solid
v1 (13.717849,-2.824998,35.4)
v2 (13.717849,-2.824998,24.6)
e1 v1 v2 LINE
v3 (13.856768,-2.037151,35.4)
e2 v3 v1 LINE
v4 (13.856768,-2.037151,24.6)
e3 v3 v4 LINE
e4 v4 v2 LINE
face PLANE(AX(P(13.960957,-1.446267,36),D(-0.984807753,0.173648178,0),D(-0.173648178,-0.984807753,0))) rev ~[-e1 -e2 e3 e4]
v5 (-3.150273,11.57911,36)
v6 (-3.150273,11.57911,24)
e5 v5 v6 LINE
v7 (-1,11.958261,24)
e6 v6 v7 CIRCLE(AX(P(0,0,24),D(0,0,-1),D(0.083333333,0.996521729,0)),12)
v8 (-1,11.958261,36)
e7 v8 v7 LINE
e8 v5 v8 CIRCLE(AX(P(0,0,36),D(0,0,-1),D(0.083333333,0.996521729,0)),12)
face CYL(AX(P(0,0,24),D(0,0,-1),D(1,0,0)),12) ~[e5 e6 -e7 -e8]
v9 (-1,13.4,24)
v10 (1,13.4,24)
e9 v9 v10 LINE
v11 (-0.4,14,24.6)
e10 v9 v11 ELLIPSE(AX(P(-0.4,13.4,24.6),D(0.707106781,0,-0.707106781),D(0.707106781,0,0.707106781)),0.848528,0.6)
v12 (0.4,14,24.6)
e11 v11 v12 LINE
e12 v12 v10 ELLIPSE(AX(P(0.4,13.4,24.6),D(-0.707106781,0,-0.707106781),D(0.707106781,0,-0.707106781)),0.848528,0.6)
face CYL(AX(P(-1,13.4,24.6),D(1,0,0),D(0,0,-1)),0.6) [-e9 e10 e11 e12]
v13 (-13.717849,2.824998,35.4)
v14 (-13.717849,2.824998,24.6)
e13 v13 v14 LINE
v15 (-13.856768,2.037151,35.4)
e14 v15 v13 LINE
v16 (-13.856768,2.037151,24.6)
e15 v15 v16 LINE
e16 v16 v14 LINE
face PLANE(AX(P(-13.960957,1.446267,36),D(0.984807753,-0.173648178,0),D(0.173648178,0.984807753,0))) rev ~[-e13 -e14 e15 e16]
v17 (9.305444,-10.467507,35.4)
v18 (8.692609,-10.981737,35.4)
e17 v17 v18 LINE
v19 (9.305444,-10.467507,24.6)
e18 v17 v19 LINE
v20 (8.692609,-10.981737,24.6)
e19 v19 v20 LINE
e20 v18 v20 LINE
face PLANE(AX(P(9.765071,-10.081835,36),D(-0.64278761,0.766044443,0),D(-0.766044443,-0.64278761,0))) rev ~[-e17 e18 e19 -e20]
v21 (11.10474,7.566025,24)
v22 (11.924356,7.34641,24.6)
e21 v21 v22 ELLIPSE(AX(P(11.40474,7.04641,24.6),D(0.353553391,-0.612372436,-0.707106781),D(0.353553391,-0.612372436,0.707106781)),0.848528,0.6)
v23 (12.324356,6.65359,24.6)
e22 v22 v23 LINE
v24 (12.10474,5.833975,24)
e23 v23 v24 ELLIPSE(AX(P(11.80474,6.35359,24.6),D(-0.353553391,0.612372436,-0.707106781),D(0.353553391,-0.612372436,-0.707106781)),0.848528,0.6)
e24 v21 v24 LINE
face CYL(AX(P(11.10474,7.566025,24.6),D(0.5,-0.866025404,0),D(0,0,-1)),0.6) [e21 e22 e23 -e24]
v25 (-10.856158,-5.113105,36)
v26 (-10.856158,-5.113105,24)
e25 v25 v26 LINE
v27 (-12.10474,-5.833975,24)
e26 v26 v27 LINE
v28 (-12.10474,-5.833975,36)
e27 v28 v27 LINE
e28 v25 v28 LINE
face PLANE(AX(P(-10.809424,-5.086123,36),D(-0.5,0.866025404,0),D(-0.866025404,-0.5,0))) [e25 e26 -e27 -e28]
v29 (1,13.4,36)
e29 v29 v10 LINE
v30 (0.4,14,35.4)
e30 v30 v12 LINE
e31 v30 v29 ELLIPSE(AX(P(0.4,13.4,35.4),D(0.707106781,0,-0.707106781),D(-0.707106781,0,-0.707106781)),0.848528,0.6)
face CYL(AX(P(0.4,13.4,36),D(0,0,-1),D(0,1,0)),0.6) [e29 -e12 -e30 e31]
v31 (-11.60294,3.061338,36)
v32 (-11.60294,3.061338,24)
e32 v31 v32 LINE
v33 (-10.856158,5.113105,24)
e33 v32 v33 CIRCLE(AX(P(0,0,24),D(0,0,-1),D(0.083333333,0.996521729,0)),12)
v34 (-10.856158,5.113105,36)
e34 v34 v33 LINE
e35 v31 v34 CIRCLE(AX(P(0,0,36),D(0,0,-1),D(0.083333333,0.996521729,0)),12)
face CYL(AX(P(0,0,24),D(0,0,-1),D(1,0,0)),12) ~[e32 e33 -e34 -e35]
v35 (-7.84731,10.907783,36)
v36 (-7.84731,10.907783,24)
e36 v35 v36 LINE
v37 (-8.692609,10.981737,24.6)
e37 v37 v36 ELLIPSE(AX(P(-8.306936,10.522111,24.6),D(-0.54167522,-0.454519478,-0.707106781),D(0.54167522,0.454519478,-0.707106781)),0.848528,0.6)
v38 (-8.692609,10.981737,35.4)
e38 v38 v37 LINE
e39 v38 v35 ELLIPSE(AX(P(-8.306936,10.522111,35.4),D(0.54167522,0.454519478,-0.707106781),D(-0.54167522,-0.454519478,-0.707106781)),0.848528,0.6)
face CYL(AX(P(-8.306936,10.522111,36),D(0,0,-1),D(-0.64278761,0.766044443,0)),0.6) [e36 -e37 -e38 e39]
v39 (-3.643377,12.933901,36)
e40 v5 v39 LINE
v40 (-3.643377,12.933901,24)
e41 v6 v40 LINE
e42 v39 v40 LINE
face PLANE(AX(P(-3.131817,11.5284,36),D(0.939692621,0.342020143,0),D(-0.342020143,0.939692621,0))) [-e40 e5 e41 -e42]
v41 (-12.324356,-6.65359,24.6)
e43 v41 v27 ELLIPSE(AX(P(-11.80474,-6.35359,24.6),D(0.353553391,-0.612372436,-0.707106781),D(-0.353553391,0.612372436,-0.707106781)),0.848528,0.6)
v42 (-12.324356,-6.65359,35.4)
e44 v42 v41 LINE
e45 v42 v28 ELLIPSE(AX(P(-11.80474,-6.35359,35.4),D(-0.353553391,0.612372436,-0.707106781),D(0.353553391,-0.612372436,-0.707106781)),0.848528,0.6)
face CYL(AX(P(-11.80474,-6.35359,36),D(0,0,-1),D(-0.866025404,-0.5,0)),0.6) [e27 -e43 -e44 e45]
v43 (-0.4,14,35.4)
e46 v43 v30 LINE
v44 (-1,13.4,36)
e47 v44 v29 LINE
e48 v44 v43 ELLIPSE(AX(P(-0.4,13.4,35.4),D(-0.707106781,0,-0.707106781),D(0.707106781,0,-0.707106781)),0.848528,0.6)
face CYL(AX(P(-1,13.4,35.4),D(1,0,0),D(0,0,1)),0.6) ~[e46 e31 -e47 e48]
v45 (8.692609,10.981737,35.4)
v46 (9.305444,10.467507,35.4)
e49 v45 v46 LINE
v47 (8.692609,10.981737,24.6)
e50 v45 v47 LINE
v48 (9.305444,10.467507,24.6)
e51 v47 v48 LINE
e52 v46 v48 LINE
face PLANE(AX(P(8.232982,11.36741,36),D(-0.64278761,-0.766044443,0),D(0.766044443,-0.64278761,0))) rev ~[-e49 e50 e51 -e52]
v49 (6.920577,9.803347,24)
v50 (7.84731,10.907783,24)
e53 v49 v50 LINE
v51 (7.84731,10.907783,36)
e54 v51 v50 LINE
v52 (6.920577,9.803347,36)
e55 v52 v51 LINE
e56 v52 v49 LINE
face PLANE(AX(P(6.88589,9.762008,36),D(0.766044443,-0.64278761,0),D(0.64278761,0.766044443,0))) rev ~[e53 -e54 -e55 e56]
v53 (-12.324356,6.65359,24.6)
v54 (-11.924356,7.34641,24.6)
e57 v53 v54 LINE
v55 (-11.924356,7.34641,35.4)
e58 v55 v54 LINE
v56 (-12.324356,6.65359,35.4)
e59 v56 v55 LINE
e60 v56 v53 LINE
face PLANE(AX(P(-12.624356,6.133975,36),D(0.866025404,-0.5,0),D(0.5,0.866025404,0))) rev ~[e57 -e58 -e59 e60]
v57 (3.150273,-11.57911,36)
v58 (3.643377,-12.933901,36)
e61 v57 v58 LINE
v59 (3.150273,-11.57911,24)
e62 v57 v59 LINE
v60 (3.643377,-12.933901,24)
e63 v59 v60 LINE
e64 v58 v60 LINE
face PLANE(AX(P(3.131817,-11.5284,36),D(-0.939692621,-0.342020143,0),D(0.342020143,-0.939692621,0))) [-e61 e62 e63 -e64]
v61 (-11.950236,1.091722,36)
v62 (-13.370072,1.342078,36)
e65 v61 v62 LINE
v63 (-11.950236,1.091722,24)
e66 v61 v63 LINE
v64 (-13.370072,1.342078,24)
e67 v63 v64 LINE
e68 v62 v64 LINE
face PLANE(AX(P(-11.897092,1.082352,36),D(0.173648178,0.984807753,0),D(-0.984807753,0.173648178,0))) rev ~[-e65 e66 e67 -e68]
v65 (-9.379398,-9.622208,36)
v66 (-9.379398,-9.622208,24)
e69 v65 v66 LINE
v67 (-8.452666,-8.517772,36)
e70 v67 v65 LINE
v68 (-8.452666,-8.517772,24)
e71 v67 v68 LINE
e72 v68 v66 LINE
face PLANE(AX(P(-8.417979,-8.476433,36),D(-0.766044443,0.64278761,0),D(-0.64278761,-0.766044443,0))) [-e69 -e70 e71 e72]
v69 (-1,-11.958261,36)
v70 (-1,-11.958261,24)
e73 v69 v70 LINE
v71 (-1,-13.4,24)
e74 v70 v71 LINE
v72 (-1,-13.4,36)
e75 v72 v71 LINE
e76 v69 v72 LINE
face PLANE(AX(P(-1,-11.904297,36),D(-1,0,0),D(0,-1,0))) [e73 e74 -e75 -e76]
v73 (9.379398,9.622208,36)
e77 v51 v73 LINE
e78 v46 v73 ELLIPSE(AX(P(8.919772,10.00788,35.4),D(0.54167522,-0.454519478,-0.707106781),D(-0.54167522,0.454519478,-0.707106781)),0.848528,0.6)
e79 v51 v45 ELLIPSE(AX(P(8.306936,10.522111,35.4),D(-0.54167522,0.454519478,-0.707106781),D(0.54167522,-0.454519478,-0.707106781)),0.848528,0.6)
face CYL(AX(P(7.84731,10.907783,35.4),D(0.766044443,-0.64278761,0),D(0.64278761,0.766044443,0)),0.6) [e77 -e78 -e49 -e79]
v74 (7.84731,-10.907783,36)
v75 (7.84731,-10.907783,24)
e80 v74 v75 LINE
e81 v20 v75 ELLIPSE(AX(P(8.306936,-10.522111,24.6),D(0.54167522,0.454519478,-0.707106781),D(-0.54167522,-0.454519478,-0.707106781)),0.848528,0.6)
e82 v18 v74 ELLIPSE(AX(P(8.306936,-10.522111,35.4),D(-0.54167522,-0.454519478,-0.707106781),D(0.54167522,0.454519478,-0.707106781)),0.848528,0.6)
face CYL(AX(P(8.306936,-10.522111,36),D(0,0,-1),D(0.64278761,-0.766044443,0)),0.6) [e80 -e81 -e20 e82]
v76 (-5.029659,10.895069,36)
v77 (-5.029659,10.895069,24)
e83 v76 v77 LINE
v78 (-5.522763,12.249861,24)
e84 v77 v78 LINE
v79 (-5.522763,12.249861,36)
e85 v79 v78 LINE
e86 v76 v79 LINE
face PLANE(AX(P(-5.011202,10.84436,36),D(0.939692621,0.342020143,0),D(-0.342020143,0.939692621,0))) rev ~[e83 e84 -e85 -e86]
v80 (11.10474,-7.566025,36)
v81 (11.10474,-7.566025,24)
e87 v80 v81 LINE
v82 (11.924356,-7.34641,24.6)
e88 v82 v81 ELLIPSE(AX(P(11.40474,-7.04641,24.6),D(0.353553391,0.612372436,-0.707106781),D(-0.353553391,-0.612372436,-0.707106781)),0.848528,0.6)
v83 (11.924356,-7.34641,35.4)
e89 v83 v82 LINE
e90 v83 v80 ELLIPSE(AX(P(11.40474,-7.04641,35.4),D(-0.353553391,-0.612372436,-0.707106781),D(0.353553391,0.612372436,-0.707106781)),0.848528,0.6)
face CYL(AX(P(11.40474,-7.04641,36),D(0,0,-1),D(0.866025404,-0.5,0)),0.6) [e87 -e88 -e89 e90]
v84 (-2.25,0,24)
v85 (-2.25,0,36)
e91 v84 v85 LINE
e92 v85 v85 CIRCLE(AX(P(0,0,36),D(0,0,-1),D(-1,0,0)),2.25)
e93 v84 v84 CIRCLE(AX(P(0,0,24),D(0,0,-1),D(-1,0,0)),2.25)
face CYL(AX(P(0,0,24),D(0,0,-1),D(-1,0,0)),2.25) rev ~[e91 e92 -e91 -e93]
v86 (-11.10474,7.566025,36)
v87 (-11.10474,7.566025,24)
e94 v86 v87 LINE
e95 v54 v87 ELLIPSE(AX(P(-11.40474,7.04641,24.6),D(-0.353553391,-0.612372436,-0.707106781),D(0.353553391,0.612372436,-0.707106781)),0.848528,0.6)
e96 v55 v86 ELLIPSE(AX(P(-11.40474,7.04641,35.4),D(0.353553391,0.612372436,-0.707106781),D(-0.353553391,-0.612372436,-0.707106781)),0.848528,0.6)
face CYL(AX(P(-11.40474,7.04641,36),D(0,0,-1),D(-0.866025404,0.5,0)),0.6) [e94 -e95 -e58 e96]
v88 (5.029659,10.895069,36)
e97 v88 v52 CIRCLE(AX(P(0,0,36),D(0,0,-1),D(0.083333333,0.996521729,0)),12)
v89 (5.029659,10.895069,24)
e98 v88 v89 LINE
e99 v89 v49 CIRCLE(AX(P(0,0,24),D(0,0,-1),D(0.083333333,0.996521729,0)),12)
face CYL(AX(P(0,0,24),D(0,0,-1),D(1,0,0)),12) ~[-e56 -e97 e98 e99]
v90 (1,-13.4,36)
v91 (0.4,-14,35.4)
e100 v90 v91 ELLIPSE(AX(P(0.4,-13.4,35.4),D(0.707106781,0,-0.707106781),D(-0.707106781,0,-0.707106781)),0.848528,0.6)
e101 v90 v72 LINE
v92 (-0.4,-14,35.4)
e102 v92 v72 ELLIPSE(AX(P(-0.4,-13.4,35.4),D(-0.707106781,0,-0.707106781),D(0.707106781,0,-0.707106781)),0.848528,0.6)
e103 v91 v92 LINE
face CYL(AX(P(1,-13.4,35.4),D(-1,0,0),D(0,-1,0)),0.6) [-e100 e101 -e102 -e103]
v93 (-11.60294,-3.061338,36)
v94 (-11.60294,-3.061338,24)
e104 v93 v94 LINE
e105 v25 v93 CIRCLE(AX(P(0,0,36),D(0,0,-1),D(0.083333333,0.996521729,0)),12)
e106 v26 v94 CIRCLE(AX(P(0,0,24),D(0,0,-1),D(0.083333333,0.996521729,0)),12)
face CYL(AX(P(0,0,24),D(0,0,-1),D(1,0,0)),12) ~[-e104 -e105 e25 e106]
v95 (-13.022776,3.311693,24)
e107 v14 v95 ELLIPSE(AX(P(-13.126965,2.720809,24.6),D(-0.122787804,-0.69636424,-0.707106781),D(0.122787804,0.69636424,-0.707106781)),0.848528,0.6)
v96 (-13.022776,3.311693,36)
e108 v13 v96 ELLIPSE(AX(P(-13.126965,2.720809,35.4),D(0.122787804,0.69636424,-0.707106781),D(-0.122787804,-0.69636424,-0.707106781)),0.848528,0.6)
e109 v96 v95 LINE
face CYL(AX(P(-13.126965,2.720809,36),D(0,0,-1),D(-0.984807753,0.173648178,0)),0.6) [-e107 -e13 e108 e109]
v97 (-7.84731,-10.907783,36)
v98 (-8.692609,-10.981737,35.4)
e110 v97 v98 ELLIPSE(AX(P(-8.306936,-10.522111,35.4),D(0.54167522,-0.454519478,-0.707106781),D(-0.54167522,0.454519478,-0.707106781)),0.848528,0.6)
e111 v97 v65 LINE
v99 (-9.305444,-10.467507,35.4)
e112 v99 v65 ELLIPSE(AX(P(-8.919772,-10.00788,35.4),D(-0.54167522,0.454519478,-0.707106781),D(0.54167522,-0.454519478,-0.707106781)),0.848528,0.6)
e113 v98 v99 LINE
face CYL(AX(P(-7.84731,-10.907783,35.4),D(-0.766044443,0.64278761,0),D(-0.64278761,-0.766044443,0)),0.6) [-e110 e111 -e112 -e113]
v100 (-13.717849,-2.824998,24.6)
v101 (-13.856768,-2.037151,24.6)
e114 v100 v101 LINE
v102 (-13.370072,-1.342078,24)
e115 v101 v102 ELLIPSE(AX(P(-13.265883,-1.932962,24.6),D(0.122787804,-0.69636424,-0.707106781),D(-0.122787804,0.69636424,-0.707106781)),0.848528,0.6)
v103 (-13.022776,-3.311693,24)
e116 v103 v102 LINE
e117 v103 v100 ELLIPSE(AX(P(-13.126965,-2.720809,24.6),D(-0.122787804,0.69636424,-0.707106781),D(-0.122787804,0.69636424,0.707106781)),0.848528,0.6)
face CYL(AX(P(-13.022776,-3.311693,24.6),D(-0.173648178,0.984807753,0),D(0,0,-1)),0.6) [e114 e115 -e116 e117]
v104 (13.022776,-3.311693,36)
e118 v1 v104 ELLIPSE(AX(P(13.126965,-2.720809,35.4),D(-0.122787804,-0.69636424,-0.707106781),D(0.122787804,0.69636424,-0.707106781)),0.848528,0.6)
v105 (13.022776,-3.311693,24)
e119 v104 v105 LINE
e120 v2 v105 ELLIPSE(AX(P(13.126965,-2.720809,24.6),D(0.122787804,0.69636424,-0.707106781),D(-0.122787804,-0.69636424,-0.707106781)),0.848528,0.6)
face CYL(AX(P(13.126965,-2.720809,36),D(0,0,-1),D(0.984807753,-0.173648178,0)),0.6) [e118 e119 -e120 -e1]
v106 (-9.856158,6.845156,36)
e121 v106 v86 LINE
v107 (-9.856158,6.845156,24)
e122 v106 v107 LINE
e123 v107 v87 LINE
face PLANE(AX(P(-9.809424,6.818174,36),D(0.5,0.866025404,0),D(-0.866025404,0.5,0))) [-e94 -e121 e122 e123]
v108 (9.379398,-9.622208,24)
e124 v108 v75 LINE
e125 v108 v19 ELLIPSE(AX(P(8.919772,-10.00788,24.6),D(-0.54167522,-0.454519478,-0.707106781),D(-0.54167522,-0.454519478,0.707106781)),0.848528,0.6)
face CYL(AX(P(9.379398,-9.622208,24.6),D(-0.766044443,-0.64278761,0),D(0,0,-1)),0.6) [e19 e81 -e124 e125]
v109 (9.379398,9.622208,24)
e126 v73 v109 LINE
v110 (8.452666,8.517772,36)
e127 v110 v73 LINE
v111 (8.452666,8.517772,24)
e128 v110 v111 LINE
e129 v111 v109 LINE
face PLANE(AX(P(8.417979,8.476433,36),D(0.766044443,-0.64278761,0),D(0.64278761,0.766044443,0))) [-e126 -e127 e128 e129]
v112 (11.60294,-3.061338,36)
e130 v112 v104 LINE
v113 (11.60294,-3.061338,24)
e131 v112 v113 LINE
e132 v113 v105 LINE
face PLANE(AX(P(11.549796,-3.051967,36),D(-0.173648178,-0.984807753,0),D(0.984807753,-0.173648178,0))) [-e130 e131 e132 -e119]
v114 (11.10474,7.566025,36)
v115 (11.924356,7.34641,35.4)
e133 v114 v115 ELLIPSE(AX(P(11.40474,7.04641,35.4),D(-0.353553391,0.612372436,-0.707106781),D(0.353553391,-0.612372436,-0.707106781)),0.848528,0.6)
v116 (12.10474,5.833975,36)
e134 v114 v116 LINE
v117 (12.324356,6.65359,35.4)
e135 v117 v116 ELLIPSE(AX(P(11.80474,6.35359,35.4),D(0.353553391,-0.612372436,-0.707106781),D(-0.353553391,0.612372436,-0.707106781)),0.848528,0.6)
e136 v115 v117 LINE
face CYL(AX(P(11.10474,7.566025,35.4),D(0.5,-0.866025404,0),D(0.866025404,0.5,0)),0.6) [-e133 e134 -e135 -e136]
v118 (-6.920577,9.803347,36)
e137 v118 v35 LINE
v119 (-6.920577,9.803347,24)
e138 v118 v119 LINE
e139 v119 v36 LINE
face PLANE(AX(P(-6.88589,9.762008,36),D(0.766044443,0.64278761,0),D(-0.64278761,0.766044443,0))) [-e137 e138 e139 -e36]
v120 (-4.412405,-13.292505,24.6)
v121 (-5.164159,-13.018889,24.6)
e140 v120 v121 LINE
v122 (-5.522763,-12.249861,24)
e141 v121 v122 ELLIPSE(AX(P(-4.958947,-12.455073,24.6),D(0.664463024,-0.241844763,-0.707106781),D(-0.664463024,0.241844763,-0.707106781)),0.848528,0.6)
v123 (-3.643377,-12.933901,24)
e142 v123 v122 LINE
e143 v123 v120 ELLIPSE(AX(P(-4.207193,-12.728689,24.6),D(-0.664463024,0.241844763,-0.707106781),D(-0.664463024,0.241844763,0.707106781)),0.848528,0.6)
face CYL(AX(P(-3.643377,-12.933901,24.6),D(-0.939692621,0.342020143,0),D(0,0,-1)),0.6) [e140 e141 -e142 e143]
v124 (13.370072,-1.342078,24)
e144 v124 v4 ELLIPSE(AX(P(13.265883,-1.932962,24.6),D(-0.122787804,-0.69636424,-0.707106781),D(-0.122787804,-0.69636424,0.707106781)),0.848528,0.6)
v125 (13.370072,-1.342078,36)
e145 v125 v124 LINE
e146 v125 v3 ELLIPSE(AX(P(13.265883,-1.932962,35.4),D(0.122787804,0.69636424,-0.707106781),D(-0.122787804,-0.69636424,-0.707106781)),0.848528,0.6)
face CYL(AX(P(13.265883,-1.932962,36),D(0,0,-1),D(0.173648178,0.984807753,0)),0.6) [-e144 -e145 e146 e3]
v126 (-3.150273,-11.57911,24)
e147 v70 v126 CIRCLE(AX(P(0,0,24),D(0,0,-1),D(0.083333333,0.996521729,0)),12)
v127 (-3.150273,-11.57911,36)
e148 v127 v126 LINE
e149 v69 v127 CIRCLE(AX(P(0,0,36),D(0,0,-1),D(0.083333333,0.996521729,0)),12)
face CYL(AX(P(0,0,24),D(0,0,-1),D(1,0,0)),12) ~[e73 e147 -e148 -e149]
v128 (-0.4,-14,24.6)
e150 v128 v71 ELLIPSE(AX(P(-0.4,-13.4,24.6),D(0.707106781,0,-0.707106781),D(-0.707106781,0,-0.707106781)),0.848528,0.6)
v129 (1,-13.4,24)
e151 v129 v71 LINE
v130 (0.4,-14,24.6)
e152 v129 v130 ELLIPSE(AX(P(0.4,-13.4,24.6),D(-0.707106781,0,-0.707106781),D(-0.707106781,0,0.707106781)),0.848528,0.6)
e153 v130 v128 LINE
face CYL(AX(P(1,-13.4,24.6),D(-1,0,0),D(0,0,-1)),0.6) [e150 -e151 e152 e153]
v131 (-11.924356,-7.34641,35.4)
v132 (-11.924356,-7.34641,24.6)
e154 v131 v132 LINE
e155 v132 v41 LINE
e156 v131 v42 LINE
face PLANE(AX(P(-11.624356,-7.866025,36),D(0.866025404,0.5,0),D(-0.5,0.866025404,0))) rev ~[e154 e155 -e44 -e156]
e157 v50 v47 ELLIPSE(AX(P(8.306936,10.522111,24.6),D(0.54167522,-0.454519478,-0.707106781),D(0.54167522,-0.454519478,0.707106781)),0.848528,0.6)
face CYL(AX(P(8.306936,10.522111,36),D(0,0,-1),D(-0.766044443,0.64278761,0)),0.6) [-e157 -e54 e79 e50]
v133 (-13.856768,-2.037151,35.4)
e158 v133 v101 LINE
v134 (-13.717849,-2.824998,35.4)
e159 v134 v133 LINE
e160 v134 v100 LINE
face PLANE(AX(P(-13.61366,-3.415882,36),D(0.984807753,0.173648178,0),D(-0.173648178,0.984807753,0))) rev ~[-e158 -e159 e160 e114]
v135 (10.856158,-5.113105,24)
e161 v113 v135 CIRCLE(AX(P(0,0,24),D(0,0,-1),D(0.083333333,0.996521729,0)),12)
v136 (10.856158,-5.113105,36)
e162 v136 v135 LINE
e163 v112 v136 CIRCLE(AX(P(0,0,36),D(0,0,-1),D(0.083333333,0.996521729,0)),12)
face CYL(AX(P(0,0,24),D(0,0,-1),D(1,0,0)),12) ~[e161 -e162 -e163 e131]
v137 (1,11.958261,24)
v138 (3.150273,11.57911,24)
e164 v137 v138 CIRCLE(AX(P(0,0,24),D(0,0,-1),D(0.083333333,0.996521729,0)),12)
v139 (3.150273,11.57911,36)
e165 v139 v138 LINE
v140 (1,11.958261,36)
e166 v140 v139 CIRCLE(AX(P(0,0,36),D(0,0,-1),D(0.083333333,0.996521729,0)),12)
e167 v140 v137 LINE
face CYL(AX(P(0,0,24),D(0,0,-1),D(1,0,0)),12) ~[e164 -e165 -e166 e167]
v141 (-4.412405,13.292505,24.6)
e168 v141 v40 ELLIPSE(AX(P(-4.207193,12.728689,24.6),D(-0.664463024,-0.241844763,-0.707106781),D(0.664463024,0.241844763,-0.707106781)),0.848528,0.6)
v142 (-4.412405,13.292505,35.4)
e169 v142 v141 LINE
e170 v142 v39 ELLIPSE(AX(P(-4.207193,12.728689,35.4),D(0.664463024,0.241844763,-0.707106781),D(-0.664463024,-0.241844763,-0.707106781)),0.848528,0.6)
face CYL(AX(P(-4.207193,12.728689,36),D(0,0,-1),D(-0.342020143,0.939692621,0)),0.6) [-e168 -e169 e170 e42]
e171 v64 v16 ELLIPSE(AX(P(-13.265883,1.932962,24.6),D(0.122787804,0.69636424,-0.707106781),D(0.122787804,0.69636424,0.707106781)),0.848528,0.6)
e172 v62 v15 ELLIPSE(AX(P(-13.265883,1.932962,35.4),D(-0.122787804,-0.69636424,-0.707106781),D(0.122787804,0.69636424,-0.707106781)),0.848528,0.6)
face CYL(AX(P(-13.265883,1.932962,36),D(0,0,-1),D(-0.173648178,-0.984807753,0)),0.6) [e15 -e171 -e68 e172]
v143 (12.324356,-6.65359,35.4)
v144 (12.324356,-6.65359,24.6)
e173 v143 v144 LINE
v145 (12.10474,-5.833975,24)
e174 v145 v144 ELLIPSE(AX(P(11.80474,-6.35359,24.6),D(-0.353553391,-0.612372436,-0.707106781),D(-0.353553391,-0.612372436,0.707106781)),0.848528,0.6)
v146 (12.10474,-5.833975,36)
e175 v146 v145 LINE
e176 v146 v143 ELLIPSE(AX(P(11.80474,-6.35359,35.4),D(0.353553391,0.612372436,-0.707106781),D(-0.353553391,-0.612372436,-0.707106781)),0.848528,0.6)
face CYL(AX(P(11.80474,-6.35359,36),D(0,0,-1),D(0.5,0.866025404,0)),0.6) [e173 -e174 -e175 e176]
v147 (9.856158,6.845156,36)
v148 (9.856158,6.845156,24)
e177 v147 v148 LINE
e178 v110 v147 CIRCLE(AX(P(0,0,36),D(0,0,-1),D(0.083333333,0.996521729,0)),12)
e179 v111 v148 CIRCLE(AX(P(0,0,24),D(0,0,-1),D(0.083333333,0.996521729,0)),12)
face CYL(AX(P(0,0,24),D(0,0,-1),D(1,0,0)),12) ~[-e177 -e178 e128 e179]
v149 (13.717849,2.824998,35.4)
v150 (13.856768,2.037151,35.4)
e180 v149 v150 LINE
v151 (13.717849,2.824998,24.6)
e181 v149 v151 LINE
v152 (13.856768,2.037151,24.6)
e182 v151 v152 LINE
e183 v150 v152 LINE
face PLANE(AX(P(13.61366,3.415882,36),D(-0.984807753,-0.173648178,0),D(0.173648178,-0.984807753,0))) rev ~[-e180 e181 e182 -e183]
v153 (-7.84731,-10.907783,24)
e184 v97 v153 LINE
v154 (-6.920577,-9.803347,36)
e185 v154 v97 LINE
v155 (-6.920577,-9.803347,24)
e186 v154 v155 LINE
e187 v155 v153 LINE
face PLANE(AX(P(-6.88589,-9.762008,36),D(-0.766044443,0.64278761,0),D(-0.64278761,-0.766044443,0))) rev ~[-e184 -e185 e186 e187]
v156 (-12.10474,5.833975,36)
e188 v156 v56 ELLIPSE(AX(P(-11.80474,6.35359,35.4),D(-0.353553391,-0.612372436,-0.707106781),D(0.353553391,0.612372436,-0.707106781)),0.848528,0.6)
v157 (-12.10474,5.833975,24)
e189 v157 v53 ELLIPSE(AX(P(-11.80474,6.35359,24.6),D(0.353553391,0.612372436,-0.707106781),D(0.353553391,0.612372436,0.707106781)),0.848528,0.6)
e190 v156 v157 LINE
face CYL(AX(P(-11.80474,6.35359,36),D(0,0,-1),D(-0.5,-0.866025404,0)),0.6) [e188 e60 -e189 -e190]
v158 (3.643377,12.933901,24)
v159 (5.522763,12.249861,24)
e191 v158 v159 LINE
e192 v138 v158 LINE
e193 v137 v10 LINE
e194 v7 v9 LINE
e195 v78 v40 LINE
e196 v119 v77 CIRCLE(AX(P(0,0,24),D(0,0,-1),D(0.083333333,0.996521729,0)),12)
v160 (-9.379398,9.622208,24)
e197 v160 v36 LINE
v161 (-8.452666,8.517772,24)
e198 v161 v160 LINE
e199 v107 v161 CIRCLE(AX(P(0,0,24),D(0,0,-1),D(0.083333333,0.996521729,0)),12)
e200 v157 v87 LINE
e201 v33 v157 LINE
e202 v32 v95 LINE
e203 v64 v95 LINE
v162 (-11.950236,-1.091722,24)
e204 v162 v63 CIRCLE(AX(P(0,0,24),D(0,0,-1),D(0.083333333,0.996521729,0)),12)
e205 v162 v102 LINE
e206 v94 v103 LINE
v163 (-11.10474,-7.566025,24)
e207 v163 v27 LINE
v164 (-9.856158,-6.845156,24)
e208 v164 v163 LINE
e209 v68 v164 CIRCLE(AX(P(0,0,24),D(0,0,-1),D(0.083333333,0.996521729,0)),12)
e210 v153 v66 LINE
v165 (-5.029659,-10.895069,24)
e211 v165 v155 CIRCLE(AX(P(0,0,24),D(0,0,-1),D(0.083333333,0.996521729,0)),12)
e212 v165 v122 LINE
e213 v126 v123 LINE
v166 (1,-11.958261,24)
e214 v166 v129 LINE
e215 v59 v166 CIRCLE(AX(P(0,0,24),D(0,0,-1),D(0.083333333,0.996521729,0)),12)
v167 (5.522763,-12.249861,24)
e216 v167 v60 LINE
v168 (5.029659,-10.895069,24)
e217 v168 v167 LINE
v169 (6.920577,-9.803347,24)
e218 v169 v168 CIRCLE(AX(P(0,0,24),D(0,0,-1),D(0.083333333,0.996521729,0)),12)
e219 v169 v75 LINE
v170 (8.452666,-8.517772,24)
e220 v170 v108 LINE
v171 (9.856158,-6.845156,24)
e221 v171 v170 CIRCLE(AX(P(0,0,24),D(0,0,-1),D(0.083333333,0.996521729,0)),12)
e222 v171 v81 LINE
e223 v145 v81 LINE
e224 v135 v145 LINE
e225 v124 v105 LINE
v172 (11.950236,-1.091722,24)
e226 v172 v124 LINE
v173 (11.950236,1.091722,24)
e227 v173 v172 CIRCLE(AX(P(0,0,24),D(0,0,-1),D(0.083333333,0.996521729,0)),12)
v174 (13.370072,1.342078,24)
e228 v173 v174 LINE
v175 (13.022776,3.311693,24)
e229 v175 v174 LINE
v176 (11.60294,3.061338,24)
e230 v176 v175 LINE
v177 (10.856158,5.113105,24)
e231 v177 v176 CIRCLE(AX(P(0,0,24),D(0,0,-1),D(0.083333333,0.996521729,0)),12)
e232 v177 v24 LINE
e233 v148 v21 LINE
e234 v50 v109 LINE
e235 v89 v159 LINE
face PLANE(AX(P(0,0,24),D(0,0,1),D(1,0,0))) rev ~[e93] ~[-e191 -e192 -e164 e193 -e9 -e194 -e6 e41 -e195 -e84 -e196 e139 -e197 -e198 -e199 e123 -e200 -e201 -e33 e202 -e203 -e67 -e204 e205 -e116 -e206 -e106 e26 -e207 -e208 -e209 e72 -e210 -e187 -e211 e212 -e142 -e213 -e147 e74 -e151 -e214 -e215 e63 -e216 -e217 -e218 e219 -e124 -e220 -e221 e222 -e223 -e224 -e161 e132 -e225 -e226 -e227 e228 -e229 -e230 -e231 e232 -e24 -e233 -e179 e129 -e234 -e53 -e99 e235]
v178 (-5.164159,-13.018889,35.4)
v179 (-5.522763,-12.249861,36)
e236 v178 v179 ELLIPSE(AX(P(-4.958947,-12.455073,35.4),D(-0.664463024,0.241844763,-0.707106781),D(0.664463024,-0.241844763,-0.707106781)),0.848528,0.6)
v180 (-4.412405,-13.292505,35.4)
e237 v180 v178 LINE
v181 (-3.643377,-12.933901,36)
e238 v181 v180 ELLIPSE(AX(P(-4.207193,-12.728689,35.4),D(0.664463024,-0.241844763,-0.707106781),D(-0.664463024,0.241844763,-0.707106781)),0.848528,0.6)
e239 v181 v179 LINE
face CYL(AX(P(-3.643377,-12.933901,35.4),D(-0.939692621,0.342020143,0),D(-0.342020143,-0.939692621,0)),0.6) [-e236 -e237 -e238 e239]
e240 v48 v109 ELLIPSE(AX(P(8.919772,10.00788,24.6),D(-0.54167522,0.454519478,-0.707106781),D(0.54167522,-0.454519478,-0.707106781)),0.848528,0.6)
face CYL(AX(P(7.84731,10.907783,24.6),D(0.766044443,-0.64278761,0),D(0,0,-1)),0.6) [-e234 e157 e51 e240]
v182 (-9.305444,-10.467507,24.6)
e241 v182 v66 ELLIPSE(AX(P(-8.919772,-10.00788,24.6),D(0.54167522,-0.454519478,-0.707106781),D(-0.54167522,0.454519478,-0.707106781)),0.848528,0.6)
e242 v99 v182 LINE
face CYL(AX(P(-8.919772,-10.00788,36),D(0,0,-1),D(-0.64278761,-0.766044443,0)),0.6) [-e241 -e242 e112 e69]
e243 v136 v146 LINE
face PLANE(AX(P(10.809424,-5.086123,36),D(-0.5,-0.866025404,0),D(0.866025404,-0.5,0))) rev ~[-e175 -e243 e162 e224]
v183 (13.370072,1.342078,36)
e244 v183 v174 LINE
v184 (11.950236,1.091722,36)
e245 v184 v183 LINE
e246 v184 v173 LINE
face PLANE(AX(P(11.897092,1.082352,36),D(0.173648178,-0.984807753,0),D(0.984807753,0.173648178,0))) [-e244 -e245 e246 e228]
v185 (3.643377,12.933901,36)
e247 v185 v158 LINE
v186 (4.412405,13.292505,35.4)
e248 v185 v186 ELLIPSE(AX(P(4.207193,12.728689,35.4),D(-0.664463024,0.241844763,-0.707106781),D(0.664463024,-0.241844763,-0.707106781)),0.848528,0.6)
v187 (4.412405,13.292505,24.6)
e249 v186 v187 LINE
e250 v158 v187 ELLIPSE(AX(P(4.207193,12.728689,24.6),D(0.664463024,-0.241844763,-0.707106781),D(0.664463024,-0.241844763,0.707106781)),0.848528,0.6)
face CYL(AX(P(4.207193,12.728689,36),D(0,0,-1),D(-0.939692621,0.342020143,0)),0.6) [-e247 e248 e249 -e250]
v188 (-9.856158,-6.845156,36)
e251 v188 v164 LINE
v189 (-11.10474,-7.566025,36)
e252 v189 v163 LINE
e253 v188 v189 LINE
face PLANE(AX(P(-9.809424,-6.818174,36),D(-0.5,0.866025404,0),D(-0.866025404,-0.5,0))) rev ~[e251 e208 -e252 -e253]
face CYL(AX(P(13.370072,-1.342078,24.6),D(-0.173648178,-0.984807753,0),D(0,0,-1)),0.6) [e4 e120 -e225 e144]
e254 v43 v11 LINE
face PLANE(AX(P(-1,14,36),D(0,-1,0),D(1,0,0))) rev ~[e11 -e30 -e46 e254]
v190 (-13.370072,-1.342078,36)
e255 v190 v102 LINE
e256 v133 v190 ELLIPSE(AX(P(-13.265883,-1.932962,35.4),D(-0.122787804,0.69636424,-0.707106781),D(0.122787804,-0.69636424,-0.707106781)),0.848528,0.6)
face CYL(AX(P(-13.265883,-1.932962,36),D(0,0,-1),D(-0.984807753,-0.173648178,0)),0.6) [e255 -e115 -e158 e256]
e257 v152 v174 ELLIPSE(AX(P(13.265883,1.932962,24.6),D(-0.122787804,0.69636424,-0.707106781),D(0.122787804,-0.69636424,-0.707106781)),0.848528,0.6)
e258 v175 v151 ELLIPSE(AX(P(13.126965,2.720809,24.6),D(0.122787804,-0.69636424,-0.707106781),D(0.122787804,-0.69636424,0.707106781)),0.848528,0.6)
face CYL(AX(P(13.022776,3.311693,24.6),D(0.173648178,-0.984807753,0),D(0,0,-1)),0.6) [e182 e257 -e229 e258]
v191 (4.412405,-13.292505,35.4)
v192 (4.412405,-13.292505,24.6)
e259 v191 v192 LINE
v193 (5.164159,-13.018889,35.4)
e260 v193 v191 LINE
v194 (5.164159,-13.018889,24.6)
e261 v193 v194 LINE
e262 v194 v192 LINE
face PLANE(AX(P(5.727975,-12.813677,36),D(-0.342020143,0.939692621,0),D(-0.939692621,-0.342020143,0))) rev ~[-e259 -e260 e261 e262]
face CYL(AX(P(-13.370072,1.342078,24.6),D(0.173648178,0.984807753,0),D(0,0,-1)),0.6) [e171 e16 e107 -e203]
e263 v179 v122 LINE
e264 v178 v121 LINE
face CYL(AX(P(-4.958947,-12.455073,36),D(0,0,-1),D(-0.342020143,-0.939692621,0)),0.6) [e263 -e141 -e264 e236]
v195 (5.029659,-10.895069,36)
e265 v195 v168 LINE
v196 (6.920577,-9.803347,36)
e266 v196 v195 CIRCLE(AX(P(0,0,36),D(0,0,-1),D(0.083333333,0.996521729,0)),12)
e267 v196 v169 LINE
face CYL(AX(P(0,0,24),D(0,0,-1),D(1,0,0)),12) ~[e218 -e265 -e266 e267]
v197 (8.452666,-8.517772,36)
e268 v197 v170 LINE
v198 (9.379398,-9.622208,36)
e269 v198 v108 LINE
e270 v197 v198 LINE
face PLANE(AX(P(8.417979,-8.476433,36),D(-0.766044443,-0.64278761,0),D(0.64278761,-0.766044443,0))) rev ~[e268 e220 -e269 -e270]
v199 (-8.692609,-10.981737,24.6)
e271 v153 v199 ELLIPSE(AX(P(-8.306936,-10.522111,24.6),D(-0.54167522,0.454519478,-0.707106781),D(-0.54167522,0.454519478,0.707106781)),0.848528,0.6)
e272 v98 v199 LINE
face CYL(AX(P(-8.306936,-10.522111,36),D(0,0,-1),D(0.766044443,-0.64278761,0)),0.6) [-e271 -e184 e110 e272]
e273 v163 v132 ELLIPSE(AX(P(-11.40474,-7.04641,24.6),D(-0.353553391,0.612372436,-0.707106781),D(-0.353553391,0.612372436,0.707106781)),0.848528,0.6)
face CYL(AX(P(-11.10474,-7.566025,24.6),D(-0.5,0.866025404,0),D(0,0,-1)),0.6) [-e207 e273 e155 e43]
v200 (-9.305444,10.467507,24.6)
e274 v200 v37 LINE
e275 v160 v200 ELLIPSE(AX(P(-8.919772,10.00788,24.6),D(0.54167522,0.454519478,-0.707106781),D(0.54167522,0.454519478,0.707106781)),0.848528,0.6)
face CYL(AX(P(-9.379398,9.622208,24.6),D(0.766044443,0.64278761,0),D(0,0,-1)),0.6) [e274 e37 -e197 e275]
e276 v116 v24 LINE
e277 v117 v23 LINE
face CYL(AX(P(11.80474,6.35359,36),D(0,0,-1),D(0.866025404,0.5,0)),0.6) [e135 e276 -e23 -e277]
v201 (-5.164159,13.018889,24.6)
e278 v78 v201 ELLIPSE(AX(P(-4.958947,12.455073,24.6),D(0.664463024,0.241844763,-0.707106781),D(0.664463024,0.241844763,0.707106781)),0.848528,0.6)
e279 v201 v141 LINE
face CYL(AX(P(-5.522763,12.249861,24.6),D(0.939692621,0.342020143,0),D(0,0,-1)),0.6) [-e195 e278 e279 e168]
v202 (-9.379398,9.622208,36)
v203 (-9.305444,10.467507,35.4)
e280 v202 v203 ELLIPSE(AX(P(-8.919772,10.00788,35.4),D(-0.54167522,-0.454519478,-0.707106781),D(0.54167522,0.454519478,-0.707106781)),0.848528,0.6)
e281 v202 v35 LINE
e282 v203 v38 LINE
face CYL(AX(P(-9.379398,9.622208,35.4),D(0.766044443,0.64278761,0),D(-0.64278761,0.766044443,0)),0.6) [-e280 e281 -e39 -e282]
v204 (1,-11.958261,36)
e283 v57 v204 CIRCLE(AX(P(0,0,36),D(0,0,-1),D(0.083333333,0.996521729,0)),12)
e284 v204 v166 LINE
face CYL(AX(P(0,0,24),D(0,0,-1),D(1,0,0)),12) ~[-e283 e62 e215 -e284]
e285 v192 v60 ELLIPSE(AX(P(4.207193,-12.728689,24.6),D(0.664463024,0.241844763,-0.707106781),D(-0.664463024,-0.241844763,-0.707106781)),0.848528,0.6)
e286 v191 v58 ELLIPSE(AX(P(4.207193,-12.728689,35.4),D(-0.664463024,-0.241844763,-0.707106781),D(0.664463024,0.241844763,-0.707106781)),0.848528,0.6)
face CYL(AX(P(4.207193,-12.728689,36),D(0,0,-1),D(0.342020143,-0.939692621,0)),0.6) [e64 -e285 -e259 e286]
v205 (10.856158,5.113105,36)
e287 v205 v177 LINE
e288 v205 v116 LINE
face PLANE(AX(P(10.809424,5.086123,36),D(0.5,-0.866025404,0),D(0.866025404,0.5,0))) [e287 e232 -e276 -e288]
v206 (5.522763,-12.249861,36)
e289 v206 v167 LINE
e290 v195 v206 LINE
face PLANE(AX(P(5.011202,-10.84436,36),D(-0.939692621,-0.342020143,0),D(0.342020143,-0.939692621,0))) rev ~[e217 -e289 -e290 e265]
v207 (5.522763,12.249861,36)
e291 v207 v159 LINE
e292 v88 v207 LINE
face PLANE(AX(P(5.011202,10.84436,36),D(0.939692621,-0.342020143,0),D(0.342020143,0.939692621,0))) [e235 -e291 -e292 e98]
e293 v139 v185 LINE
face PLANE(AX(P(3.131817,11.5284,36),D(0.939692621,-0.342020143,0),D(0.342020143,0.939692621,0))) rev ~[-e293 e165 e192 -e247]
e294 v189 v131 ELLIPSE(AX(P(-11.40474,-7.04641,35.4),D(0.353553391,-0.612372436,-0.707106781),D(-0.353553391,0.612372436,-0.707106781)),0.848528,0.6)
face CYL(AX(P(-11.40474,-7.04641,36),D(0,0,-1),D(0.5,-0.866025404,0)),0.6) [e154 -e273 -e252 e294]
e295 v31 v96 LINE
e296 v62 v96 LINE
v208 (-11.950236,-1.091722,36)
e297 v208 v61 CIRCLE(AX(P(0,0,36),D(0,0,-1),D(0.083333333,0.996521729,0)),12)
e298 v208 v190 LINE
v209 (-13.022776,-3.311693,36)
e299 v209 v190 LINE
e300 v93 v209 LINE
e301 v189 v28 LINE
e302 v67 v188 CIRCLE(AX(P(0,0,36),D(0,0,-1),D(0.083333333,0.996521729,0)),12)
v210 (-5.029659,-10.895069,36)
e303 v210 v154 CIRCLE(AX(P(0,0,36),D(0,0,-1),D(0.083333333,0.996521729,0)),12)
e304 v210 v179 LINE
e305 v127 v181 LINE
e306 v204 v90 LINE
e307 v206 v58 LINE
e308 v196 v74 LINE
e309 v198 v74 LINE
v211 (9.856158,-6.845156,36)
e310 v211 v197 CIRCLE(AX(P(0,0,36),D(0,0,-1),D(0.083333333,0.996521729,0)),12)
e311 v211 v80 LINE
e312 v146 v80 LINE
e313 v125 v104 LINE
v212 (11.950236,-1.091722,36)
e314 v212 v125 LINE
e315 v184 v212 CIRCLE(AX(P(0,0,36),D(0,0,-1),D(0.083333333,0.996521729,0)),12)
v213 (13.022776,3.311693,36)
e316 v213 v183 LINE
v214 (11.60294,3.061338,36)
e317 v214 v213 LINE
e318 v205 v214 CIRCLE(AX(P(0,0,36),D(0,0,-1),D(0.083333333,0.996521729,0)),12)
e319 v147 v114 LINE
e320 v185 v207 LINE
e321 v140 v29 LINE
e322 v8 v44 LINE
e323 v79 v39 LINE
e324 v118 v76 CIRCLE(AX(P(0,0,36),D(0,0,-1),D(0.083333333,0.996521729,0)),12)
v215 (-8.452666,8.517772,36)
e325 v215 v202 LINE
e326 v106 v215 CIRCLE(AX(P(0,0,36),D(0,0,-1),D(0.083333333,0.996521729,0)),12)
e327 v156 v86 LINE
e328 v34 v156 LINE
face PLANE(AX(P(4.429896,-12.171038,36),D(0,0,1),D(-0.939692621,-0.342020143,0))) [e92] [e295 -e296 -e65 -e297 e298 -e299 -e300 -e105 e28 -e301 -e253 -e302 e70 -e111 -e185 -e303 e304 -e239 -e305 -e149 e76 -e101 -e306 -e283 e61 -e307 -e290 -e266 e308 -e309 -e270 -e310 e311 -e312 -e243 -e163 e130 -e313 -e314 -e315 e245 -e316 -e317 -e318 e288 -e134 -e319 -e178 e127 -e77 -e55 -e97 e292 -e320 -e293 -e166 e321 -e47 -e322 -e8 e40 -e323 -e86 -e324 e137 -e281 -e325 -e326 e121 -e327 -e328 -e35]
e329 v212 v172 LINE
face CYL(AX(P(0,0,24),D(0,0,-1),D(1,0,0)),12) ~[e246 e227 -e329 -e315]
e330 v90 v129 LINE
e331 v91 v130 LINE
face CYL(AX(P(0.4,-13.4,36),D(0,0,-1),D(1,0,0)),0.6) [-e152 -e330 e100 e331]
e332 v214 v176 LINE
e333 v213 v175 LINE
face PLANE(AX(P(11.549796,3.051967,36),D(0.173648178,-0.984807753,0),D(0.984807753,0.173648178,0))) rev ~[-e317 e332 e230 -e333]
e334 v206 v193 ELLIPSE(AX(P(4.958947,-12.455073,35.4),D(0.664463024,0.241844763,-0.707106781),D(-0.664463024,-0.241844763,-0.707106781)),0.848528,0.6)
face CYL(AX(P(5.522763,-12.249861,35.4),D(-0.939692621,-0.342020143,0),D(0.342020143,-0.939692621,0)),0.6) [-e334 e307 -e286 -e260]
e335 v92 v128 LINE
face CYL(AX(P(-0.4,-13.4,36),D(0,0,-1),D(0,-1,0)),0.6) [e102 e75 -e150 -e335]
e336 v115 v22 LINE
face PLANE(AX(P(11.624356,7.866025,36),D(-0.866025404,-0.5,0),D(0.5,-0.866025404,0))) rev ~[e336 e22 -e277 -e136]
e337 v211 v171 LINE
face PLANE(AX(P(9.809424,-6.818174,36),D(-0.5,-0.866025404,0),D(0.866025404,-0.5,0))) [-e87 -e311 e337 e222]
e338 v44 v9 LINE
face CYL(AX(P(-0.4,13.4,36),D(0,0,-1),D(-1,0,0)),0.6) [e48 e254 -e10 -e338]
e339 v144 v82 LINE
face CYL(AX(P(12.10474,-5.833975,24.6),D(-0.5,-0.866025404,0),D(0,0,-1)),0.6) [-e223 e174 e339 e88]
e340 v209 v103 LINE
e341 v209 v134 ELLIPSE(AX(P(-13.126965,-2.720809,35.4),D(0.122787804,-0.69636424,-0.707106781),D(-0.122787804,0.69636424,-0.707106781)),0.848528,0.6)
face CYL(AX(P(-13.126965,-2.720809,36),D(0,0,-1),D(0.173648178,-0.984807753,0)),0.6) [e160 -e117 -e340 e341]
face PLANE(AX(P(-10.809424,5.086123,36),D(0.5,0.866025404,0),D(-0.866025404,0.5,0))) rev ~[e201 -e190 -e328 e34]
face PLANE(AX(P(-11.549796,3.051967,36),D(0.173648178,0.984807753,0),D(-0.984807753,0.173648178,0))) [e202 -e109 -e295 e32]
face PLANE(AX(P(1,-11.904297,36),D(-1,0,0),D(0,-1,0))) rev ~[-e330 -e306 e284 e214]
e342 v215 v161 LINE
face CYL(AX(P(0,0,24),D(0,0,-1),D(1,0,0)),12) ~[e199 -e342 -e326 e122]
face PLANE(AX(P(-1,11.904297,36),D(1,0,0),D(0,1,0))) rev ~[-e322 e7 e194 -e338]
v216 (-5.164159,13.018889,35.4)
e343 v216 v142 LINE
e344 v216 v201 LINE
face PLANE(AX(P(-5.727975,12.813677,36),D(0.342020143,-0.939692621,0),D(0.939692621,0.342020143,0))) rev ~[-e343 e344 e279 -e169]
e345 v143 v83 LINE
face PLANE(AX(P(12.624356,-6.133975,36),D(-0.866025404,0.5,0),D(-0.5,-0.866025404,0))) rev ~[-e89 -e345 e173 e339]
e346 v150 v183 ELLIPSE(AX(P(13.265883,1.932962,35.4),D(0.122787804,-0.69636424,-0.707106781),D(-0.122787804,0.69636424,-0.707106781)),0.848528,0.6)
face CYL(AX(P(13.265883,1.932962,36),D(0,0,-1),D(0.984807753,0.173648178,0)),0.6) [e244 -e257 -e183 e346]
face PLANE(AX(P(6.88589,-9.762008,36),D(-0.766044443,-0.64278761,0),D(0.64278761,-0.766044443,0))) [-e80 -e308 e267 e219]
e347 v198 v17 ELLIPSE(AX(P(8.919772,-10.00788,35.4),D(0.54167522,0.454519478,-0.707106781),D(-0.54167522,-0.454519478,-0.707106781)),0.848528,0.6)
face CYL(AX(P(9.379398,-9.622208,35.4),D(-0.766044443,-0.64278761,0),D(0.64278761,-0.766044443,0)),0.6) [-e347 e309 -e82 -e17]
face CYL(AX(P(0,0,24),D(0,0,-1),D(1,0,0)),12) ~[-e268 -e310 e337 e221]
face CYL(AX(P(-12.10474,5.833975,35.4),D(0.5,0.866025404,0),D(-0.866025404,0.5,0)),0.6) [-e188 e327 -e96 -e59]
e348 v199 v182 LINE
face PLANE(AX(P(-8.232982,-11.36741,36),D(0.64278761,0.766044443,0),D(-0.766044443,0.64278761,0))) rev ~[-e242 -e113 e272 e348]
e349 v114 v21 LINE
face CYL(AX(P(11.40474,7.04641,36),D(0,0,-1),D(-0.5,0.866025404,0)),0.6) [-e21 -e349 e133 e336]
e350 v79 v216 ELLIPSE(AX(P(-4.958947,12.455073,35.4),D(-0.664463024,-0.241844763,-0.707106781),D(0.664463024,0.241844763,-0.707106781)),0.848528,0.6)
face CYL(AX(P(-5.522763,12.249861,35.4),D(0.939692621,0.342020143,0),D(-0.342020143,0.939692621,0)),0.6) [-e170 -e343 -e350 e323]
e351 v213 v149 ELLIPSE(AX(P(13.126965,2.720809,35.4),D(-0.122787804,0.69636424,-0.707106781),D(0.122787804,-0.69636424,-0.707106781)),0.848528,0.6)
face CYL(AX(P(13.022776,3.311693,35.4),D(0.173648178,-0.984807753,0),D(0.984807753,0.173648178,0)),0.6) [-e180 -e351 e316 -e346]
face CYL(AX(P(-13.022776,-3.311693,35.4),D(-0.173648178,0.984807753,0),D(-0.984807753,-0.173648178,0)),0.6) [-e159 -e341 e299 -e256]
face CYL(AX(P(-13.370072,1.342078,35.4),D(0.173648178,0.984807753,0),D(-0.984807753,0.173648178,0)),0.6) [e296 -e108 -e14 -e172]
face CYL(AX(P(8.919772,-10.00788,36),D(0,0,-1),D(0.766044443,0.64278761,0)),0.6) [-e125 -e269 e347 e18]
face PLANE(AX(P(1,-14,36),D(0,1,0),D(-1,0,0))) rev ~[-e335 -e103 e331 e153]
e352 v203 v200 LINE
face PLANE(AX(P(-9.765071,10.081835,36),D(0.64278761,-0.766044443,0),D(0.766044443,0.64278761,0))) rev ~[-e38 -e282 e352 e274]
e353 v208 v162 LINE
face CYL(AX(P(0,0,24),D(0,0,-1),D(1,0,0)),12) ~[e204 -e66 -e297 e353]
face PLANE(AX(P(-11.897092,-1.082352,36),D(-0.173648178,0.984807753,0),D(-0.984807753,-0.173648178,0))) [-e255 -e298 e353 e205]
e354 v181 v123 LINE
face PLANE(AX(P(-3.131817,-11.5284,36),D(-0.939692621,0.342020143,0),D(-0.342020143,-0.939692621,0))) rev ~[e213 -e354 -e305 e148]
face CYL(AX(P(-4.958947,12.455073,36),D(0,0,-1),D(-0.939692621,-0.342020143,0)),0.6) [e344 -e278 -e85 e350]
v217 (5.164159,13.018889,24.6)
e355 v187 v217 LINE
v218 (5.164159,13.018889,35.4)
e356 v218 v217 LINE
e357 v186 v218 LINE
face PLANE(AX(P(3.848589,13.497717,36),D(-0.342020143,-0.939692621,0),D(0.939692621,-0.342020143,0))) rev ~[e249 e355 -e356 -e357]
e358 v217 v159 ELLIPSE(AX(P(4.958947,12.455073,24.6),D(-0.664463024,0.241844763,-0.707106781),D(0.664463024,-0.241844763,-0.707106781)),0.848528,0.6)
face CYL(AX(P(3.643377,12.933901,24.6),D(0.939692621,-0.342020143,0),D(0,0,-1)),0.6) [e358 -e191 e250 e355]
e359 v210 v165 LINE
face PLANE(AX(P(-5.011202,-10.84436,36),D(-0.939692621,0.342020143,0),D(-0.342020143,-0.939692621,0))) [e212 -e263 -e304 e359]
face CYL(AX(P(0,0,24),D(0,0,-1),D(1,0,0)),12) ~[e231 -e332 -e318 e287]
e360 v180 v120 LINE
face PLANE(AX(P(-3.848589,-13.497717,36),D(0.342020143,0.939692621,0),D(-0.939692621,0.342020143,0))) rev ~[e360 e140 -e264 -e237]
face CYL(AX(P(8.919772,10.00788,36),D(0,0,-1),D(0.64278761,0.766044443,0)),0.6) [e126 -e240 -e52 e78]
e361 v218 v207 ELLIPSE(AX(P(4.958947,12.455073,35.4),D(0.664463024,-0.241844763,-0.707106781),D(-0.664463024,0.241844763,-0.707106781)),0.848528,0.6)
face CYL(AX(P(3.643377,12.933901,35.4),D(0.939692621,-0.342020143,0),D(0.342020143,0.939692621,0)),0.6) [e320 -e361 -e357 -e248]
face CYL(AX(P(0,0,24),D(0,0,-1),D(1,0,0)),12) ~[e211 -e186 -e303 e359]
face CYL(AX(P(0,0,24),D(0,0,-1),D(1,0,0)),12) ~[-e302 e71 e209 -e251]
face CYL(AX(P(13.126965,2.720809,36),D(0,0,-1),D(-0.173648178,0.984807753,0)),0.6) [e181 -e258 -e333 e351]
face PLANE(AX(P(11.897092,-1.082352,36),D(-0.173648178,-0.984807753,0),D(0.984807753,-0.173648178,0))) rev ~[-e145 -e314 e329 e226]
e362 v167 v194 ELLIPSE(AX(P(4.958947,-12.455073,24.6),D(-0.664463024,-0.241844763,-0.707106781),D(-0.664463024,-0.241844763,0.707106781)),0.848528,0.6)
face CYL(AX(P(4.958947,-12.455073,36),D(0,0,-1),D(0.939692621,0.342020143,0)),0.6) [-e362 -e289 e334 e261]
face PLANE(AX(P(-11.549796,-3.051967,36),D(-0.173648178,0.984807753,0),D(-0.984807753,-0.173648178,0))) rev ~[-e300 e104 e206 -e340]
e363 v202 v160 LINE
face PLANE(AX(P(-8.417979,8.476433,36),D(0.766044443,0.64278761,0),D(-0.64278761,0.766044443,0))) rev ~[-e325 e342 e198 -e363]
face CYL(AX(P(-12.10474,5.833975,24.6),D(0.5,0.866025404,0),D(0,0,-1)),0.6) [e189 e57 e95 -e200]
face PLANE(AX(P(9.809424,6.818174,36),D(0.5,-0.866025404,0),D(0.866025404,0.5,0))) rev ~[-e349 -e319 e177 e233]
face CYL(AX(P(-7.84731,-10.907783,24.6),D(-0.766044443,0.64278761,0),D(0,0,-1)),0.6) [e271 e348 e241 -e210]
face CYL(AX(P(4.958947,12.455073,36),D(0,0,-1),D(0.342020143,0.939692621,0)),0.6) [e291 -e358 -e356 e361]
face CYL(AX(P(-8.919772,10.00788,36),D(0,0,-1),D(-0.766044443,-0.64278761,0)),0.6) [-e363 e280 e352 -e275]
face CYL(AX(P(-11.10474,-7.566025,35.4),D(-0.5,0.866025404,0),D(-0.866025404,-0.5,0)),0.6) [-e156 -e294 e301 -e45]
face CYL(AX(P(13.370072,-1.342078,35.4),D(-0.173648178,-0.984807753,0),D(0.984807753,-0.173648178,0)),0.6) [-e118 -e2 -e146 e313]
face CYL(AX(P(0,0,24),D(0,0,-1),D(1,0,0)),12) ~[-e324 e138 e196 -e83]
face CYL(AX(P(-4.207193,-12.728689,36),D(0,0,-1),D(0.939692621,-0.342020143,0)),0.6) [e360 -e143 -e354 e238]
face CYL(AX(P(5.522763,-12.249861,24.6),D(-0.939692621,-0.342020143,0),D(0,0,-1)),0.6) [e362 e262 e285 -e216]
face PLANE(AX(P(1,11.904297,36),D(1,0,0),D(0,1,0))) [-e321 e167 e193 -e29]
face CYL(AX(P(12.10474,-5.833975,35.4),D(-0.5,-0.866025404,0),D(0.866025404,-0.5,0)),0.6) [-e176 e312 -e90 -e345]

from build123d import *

# Parameters (mm, degrees)
SKETCH2_R                = 60
BOSS_EXTRUDE1_DEPTH      = 60
SKETCH3_W                = 10
SKETCH3_H                = 10.47851478
BOSS_EXTRUDE2_DEPTH      = 60
FILLET2_R                = 3
CIRPATTERN1_COUNT        = 18
FILLET2_OF_CIRPATTERN1_R = 3
SKETCH4_R                = 10
CUT_EXTRUDE1_DEPTH       = 60
SKETCH5_R                = 11.25
CUT_EXTRUDE2_DEPTH       = 60
SCALE1_SCALE             = 0.2


with BuildPart() as part:
    # Sketch2 → Boss-Extrude1 (new body)
    with BuildSketch(Plane.XY):
        Circle(SKETCH2_R)
    extrude(amount=BOSS_EXTRUDE1_DEPTH)

    # Sketch3 → Boss-Extrude2 (add)
    with BuildSketch(Plane.XY.offset(60)):
        with Locations((0, 64.76074261)):
            Rectangle(SKETCH3_W, SKETCH3_H)
    boss_extrude2 = extrude(amount=-BOSS_EXTRUDE2_DEPTH)

    # Fillet2
    fillet2_edges = [part.edges().sort_by_distance(p)[0] for p in [
        (5, 70, 30),
        (0, 70, 0),
        (-5, 70, 30),
        (0, 70, 60),
    ]]
    fillet(fillet2_edges, radius=FILLET2_R)

    # CirPattern1: Boss-Extrude2 ×18 about axis
    cirpattern1_axis = Axis((0, 0, 0), (0, 0, 1))
    for i in range(1, CIRPATTERN1_COUNT):
        add(boss_extrude2.rotate(cirpattern1_axis, i * 360 / CIRPATTERN1_COUNT))

    # Fillet2 of CirPattern1
    fillet2_of_cirpattern1_edges = [part.edges().sort_by_distance(p)[0] for p in [
        (-19.242946929, 67.488584172, 30),
        (-23.941410033, 65.778483455, 0),
        (-28.639873137, 64.068382738, 30),
        (-23.941410033, 65.778483455, 60),
        (-41.164910462, 56.837049067, 30),
        (-44.995132678, 53.623111018, 0),
        (-48.825354894, 50.40917297, 30),
        (-44.995132678, 53.623111018, 60),
        (-58.121778265, 39.330127019, 30),
        (-60.621778265, 35, 0),
        (-63.121778265, 30.669872981, 30),
        (-60.621778265, 35, 60),
        (-68.068301823, 17.079411202, 30),
        (-68.936542711, 12.155372437, 0),
        (-69.804783599, 7.231333672, 30),
        (-68.936542711, 12.155372437, 60),
        (-69.804783599, -7.231333672, 30),
        (-68.936542711, -12.155372437, 0),
        (-68.068301823, -17.079411202, 30),
        (-68.936542711, -12.155372437, 60),
        (-63.121778265, -30.669872981, 30),
        (-60.621778265, -35, 0),
        (-58.121778265, -39.330127019, 30),
        (-60.621778265, -35, 60),
        (-48.825354894, -50.40917297, 30),
        (-44.995132678, -53.623111018, 0),
        (-41.164910462, -56.837049067, 30),
        (-44.995132678, -53.623111018, 60),
        (-28.639873137, -64.068382738, 30),
        (-23.941410033, -65.778483455, 0),
        (-19.242946929, -67.488584172, 30),
        (-23.941410033, -65.778483455, 60),
        (-5, -70, 30),
        (0, -70, 0),
        (5, -70, 30),
        (0, -70, 60),
        (19.242946929, -67.488584172, 30),
        (23.941410033, -65.778483455, 0),
        (28.639873137, -64.068382738, 30),
        (23.941410033, -65.778483455, 60),
        (41.164910462, -56.837049067, 30),
        (44.995132678, -53.623111018, 0),
        (48.825354894, -50.40917297, 30),
        (44.995132678, -53.623111018, 60),
        (58.121778265, -39.330127019, 30),
        (60.621778265, -35, 0),
        (63.121778265, -30.669872981, 30),
        (60.621778265, -35, 60),
        (68.068301823, -17.079411202, 30),
        (68.936542711, -12.155372437, 0),
        (69.804783599, -7.231333672, 30),
        (68.936542711, -12.155372437, 60),
        (69.804783599, 7.231333672, 30),
        (68.936542711, 12.155372437, 0),
        (68.068301823, 17.079411202, 30),
        (68.936542711, 12.155372437, 60),
        (63.121778265, 30.669872981, 30),
        (60.621778265, 35, 0),
        (58.121778265, 39.330127019, 30),
        (60.621778265, 35, 60),
        (48.825354894, 50.40917297, 30),
        (44.995132678, 53.623111018, 0),
        (41.164910462, 56.837049067, 30),
        (44.995132678, 53.623111018, 60),
        (28.639873137, 64.068382738, 30),
        (23.941410033, 65.778483455, 0),
        (19.242946929, 67.488584172, 30),
        (23.941410033, 65.778483455, 60),
    ]]
    fillet(fillet2_of_cirpattern1_edges, radius=FILLET2_OF_CIRPATTERN1_R)

    # Sketch4 → Cut-Extrude1 (cut)
    with BuildSketch(Plane.XY.offset(60)):
        Circle(SKETCH4_R)
    extrude(amount=-CUT_EXTRUDE1_DEPTH, mode=Mode.SUBTRACT)

    # Sketch5 → Cut-Extrude2 (cut)
    with BuildSketch(Plane(origin=(0, 0, 0), x_dir=(-1, 0, 0), z_dir=(0, 0, -1))):
        Circle(SKETCH5_R)
    extrude(amount=-CUT_EXTRUDE2_DEPTH, mode=Mode.SUBTRACT)


with BuildPart() as part_1:
    # Scale1: scaled about (3e-09, 1e-09, 29.999999969)
    add(part.part.scale(SCALE1_SCALE).moved(Location((2e-09, 1e-09, 23.999999975))))


solid = part_1.part
